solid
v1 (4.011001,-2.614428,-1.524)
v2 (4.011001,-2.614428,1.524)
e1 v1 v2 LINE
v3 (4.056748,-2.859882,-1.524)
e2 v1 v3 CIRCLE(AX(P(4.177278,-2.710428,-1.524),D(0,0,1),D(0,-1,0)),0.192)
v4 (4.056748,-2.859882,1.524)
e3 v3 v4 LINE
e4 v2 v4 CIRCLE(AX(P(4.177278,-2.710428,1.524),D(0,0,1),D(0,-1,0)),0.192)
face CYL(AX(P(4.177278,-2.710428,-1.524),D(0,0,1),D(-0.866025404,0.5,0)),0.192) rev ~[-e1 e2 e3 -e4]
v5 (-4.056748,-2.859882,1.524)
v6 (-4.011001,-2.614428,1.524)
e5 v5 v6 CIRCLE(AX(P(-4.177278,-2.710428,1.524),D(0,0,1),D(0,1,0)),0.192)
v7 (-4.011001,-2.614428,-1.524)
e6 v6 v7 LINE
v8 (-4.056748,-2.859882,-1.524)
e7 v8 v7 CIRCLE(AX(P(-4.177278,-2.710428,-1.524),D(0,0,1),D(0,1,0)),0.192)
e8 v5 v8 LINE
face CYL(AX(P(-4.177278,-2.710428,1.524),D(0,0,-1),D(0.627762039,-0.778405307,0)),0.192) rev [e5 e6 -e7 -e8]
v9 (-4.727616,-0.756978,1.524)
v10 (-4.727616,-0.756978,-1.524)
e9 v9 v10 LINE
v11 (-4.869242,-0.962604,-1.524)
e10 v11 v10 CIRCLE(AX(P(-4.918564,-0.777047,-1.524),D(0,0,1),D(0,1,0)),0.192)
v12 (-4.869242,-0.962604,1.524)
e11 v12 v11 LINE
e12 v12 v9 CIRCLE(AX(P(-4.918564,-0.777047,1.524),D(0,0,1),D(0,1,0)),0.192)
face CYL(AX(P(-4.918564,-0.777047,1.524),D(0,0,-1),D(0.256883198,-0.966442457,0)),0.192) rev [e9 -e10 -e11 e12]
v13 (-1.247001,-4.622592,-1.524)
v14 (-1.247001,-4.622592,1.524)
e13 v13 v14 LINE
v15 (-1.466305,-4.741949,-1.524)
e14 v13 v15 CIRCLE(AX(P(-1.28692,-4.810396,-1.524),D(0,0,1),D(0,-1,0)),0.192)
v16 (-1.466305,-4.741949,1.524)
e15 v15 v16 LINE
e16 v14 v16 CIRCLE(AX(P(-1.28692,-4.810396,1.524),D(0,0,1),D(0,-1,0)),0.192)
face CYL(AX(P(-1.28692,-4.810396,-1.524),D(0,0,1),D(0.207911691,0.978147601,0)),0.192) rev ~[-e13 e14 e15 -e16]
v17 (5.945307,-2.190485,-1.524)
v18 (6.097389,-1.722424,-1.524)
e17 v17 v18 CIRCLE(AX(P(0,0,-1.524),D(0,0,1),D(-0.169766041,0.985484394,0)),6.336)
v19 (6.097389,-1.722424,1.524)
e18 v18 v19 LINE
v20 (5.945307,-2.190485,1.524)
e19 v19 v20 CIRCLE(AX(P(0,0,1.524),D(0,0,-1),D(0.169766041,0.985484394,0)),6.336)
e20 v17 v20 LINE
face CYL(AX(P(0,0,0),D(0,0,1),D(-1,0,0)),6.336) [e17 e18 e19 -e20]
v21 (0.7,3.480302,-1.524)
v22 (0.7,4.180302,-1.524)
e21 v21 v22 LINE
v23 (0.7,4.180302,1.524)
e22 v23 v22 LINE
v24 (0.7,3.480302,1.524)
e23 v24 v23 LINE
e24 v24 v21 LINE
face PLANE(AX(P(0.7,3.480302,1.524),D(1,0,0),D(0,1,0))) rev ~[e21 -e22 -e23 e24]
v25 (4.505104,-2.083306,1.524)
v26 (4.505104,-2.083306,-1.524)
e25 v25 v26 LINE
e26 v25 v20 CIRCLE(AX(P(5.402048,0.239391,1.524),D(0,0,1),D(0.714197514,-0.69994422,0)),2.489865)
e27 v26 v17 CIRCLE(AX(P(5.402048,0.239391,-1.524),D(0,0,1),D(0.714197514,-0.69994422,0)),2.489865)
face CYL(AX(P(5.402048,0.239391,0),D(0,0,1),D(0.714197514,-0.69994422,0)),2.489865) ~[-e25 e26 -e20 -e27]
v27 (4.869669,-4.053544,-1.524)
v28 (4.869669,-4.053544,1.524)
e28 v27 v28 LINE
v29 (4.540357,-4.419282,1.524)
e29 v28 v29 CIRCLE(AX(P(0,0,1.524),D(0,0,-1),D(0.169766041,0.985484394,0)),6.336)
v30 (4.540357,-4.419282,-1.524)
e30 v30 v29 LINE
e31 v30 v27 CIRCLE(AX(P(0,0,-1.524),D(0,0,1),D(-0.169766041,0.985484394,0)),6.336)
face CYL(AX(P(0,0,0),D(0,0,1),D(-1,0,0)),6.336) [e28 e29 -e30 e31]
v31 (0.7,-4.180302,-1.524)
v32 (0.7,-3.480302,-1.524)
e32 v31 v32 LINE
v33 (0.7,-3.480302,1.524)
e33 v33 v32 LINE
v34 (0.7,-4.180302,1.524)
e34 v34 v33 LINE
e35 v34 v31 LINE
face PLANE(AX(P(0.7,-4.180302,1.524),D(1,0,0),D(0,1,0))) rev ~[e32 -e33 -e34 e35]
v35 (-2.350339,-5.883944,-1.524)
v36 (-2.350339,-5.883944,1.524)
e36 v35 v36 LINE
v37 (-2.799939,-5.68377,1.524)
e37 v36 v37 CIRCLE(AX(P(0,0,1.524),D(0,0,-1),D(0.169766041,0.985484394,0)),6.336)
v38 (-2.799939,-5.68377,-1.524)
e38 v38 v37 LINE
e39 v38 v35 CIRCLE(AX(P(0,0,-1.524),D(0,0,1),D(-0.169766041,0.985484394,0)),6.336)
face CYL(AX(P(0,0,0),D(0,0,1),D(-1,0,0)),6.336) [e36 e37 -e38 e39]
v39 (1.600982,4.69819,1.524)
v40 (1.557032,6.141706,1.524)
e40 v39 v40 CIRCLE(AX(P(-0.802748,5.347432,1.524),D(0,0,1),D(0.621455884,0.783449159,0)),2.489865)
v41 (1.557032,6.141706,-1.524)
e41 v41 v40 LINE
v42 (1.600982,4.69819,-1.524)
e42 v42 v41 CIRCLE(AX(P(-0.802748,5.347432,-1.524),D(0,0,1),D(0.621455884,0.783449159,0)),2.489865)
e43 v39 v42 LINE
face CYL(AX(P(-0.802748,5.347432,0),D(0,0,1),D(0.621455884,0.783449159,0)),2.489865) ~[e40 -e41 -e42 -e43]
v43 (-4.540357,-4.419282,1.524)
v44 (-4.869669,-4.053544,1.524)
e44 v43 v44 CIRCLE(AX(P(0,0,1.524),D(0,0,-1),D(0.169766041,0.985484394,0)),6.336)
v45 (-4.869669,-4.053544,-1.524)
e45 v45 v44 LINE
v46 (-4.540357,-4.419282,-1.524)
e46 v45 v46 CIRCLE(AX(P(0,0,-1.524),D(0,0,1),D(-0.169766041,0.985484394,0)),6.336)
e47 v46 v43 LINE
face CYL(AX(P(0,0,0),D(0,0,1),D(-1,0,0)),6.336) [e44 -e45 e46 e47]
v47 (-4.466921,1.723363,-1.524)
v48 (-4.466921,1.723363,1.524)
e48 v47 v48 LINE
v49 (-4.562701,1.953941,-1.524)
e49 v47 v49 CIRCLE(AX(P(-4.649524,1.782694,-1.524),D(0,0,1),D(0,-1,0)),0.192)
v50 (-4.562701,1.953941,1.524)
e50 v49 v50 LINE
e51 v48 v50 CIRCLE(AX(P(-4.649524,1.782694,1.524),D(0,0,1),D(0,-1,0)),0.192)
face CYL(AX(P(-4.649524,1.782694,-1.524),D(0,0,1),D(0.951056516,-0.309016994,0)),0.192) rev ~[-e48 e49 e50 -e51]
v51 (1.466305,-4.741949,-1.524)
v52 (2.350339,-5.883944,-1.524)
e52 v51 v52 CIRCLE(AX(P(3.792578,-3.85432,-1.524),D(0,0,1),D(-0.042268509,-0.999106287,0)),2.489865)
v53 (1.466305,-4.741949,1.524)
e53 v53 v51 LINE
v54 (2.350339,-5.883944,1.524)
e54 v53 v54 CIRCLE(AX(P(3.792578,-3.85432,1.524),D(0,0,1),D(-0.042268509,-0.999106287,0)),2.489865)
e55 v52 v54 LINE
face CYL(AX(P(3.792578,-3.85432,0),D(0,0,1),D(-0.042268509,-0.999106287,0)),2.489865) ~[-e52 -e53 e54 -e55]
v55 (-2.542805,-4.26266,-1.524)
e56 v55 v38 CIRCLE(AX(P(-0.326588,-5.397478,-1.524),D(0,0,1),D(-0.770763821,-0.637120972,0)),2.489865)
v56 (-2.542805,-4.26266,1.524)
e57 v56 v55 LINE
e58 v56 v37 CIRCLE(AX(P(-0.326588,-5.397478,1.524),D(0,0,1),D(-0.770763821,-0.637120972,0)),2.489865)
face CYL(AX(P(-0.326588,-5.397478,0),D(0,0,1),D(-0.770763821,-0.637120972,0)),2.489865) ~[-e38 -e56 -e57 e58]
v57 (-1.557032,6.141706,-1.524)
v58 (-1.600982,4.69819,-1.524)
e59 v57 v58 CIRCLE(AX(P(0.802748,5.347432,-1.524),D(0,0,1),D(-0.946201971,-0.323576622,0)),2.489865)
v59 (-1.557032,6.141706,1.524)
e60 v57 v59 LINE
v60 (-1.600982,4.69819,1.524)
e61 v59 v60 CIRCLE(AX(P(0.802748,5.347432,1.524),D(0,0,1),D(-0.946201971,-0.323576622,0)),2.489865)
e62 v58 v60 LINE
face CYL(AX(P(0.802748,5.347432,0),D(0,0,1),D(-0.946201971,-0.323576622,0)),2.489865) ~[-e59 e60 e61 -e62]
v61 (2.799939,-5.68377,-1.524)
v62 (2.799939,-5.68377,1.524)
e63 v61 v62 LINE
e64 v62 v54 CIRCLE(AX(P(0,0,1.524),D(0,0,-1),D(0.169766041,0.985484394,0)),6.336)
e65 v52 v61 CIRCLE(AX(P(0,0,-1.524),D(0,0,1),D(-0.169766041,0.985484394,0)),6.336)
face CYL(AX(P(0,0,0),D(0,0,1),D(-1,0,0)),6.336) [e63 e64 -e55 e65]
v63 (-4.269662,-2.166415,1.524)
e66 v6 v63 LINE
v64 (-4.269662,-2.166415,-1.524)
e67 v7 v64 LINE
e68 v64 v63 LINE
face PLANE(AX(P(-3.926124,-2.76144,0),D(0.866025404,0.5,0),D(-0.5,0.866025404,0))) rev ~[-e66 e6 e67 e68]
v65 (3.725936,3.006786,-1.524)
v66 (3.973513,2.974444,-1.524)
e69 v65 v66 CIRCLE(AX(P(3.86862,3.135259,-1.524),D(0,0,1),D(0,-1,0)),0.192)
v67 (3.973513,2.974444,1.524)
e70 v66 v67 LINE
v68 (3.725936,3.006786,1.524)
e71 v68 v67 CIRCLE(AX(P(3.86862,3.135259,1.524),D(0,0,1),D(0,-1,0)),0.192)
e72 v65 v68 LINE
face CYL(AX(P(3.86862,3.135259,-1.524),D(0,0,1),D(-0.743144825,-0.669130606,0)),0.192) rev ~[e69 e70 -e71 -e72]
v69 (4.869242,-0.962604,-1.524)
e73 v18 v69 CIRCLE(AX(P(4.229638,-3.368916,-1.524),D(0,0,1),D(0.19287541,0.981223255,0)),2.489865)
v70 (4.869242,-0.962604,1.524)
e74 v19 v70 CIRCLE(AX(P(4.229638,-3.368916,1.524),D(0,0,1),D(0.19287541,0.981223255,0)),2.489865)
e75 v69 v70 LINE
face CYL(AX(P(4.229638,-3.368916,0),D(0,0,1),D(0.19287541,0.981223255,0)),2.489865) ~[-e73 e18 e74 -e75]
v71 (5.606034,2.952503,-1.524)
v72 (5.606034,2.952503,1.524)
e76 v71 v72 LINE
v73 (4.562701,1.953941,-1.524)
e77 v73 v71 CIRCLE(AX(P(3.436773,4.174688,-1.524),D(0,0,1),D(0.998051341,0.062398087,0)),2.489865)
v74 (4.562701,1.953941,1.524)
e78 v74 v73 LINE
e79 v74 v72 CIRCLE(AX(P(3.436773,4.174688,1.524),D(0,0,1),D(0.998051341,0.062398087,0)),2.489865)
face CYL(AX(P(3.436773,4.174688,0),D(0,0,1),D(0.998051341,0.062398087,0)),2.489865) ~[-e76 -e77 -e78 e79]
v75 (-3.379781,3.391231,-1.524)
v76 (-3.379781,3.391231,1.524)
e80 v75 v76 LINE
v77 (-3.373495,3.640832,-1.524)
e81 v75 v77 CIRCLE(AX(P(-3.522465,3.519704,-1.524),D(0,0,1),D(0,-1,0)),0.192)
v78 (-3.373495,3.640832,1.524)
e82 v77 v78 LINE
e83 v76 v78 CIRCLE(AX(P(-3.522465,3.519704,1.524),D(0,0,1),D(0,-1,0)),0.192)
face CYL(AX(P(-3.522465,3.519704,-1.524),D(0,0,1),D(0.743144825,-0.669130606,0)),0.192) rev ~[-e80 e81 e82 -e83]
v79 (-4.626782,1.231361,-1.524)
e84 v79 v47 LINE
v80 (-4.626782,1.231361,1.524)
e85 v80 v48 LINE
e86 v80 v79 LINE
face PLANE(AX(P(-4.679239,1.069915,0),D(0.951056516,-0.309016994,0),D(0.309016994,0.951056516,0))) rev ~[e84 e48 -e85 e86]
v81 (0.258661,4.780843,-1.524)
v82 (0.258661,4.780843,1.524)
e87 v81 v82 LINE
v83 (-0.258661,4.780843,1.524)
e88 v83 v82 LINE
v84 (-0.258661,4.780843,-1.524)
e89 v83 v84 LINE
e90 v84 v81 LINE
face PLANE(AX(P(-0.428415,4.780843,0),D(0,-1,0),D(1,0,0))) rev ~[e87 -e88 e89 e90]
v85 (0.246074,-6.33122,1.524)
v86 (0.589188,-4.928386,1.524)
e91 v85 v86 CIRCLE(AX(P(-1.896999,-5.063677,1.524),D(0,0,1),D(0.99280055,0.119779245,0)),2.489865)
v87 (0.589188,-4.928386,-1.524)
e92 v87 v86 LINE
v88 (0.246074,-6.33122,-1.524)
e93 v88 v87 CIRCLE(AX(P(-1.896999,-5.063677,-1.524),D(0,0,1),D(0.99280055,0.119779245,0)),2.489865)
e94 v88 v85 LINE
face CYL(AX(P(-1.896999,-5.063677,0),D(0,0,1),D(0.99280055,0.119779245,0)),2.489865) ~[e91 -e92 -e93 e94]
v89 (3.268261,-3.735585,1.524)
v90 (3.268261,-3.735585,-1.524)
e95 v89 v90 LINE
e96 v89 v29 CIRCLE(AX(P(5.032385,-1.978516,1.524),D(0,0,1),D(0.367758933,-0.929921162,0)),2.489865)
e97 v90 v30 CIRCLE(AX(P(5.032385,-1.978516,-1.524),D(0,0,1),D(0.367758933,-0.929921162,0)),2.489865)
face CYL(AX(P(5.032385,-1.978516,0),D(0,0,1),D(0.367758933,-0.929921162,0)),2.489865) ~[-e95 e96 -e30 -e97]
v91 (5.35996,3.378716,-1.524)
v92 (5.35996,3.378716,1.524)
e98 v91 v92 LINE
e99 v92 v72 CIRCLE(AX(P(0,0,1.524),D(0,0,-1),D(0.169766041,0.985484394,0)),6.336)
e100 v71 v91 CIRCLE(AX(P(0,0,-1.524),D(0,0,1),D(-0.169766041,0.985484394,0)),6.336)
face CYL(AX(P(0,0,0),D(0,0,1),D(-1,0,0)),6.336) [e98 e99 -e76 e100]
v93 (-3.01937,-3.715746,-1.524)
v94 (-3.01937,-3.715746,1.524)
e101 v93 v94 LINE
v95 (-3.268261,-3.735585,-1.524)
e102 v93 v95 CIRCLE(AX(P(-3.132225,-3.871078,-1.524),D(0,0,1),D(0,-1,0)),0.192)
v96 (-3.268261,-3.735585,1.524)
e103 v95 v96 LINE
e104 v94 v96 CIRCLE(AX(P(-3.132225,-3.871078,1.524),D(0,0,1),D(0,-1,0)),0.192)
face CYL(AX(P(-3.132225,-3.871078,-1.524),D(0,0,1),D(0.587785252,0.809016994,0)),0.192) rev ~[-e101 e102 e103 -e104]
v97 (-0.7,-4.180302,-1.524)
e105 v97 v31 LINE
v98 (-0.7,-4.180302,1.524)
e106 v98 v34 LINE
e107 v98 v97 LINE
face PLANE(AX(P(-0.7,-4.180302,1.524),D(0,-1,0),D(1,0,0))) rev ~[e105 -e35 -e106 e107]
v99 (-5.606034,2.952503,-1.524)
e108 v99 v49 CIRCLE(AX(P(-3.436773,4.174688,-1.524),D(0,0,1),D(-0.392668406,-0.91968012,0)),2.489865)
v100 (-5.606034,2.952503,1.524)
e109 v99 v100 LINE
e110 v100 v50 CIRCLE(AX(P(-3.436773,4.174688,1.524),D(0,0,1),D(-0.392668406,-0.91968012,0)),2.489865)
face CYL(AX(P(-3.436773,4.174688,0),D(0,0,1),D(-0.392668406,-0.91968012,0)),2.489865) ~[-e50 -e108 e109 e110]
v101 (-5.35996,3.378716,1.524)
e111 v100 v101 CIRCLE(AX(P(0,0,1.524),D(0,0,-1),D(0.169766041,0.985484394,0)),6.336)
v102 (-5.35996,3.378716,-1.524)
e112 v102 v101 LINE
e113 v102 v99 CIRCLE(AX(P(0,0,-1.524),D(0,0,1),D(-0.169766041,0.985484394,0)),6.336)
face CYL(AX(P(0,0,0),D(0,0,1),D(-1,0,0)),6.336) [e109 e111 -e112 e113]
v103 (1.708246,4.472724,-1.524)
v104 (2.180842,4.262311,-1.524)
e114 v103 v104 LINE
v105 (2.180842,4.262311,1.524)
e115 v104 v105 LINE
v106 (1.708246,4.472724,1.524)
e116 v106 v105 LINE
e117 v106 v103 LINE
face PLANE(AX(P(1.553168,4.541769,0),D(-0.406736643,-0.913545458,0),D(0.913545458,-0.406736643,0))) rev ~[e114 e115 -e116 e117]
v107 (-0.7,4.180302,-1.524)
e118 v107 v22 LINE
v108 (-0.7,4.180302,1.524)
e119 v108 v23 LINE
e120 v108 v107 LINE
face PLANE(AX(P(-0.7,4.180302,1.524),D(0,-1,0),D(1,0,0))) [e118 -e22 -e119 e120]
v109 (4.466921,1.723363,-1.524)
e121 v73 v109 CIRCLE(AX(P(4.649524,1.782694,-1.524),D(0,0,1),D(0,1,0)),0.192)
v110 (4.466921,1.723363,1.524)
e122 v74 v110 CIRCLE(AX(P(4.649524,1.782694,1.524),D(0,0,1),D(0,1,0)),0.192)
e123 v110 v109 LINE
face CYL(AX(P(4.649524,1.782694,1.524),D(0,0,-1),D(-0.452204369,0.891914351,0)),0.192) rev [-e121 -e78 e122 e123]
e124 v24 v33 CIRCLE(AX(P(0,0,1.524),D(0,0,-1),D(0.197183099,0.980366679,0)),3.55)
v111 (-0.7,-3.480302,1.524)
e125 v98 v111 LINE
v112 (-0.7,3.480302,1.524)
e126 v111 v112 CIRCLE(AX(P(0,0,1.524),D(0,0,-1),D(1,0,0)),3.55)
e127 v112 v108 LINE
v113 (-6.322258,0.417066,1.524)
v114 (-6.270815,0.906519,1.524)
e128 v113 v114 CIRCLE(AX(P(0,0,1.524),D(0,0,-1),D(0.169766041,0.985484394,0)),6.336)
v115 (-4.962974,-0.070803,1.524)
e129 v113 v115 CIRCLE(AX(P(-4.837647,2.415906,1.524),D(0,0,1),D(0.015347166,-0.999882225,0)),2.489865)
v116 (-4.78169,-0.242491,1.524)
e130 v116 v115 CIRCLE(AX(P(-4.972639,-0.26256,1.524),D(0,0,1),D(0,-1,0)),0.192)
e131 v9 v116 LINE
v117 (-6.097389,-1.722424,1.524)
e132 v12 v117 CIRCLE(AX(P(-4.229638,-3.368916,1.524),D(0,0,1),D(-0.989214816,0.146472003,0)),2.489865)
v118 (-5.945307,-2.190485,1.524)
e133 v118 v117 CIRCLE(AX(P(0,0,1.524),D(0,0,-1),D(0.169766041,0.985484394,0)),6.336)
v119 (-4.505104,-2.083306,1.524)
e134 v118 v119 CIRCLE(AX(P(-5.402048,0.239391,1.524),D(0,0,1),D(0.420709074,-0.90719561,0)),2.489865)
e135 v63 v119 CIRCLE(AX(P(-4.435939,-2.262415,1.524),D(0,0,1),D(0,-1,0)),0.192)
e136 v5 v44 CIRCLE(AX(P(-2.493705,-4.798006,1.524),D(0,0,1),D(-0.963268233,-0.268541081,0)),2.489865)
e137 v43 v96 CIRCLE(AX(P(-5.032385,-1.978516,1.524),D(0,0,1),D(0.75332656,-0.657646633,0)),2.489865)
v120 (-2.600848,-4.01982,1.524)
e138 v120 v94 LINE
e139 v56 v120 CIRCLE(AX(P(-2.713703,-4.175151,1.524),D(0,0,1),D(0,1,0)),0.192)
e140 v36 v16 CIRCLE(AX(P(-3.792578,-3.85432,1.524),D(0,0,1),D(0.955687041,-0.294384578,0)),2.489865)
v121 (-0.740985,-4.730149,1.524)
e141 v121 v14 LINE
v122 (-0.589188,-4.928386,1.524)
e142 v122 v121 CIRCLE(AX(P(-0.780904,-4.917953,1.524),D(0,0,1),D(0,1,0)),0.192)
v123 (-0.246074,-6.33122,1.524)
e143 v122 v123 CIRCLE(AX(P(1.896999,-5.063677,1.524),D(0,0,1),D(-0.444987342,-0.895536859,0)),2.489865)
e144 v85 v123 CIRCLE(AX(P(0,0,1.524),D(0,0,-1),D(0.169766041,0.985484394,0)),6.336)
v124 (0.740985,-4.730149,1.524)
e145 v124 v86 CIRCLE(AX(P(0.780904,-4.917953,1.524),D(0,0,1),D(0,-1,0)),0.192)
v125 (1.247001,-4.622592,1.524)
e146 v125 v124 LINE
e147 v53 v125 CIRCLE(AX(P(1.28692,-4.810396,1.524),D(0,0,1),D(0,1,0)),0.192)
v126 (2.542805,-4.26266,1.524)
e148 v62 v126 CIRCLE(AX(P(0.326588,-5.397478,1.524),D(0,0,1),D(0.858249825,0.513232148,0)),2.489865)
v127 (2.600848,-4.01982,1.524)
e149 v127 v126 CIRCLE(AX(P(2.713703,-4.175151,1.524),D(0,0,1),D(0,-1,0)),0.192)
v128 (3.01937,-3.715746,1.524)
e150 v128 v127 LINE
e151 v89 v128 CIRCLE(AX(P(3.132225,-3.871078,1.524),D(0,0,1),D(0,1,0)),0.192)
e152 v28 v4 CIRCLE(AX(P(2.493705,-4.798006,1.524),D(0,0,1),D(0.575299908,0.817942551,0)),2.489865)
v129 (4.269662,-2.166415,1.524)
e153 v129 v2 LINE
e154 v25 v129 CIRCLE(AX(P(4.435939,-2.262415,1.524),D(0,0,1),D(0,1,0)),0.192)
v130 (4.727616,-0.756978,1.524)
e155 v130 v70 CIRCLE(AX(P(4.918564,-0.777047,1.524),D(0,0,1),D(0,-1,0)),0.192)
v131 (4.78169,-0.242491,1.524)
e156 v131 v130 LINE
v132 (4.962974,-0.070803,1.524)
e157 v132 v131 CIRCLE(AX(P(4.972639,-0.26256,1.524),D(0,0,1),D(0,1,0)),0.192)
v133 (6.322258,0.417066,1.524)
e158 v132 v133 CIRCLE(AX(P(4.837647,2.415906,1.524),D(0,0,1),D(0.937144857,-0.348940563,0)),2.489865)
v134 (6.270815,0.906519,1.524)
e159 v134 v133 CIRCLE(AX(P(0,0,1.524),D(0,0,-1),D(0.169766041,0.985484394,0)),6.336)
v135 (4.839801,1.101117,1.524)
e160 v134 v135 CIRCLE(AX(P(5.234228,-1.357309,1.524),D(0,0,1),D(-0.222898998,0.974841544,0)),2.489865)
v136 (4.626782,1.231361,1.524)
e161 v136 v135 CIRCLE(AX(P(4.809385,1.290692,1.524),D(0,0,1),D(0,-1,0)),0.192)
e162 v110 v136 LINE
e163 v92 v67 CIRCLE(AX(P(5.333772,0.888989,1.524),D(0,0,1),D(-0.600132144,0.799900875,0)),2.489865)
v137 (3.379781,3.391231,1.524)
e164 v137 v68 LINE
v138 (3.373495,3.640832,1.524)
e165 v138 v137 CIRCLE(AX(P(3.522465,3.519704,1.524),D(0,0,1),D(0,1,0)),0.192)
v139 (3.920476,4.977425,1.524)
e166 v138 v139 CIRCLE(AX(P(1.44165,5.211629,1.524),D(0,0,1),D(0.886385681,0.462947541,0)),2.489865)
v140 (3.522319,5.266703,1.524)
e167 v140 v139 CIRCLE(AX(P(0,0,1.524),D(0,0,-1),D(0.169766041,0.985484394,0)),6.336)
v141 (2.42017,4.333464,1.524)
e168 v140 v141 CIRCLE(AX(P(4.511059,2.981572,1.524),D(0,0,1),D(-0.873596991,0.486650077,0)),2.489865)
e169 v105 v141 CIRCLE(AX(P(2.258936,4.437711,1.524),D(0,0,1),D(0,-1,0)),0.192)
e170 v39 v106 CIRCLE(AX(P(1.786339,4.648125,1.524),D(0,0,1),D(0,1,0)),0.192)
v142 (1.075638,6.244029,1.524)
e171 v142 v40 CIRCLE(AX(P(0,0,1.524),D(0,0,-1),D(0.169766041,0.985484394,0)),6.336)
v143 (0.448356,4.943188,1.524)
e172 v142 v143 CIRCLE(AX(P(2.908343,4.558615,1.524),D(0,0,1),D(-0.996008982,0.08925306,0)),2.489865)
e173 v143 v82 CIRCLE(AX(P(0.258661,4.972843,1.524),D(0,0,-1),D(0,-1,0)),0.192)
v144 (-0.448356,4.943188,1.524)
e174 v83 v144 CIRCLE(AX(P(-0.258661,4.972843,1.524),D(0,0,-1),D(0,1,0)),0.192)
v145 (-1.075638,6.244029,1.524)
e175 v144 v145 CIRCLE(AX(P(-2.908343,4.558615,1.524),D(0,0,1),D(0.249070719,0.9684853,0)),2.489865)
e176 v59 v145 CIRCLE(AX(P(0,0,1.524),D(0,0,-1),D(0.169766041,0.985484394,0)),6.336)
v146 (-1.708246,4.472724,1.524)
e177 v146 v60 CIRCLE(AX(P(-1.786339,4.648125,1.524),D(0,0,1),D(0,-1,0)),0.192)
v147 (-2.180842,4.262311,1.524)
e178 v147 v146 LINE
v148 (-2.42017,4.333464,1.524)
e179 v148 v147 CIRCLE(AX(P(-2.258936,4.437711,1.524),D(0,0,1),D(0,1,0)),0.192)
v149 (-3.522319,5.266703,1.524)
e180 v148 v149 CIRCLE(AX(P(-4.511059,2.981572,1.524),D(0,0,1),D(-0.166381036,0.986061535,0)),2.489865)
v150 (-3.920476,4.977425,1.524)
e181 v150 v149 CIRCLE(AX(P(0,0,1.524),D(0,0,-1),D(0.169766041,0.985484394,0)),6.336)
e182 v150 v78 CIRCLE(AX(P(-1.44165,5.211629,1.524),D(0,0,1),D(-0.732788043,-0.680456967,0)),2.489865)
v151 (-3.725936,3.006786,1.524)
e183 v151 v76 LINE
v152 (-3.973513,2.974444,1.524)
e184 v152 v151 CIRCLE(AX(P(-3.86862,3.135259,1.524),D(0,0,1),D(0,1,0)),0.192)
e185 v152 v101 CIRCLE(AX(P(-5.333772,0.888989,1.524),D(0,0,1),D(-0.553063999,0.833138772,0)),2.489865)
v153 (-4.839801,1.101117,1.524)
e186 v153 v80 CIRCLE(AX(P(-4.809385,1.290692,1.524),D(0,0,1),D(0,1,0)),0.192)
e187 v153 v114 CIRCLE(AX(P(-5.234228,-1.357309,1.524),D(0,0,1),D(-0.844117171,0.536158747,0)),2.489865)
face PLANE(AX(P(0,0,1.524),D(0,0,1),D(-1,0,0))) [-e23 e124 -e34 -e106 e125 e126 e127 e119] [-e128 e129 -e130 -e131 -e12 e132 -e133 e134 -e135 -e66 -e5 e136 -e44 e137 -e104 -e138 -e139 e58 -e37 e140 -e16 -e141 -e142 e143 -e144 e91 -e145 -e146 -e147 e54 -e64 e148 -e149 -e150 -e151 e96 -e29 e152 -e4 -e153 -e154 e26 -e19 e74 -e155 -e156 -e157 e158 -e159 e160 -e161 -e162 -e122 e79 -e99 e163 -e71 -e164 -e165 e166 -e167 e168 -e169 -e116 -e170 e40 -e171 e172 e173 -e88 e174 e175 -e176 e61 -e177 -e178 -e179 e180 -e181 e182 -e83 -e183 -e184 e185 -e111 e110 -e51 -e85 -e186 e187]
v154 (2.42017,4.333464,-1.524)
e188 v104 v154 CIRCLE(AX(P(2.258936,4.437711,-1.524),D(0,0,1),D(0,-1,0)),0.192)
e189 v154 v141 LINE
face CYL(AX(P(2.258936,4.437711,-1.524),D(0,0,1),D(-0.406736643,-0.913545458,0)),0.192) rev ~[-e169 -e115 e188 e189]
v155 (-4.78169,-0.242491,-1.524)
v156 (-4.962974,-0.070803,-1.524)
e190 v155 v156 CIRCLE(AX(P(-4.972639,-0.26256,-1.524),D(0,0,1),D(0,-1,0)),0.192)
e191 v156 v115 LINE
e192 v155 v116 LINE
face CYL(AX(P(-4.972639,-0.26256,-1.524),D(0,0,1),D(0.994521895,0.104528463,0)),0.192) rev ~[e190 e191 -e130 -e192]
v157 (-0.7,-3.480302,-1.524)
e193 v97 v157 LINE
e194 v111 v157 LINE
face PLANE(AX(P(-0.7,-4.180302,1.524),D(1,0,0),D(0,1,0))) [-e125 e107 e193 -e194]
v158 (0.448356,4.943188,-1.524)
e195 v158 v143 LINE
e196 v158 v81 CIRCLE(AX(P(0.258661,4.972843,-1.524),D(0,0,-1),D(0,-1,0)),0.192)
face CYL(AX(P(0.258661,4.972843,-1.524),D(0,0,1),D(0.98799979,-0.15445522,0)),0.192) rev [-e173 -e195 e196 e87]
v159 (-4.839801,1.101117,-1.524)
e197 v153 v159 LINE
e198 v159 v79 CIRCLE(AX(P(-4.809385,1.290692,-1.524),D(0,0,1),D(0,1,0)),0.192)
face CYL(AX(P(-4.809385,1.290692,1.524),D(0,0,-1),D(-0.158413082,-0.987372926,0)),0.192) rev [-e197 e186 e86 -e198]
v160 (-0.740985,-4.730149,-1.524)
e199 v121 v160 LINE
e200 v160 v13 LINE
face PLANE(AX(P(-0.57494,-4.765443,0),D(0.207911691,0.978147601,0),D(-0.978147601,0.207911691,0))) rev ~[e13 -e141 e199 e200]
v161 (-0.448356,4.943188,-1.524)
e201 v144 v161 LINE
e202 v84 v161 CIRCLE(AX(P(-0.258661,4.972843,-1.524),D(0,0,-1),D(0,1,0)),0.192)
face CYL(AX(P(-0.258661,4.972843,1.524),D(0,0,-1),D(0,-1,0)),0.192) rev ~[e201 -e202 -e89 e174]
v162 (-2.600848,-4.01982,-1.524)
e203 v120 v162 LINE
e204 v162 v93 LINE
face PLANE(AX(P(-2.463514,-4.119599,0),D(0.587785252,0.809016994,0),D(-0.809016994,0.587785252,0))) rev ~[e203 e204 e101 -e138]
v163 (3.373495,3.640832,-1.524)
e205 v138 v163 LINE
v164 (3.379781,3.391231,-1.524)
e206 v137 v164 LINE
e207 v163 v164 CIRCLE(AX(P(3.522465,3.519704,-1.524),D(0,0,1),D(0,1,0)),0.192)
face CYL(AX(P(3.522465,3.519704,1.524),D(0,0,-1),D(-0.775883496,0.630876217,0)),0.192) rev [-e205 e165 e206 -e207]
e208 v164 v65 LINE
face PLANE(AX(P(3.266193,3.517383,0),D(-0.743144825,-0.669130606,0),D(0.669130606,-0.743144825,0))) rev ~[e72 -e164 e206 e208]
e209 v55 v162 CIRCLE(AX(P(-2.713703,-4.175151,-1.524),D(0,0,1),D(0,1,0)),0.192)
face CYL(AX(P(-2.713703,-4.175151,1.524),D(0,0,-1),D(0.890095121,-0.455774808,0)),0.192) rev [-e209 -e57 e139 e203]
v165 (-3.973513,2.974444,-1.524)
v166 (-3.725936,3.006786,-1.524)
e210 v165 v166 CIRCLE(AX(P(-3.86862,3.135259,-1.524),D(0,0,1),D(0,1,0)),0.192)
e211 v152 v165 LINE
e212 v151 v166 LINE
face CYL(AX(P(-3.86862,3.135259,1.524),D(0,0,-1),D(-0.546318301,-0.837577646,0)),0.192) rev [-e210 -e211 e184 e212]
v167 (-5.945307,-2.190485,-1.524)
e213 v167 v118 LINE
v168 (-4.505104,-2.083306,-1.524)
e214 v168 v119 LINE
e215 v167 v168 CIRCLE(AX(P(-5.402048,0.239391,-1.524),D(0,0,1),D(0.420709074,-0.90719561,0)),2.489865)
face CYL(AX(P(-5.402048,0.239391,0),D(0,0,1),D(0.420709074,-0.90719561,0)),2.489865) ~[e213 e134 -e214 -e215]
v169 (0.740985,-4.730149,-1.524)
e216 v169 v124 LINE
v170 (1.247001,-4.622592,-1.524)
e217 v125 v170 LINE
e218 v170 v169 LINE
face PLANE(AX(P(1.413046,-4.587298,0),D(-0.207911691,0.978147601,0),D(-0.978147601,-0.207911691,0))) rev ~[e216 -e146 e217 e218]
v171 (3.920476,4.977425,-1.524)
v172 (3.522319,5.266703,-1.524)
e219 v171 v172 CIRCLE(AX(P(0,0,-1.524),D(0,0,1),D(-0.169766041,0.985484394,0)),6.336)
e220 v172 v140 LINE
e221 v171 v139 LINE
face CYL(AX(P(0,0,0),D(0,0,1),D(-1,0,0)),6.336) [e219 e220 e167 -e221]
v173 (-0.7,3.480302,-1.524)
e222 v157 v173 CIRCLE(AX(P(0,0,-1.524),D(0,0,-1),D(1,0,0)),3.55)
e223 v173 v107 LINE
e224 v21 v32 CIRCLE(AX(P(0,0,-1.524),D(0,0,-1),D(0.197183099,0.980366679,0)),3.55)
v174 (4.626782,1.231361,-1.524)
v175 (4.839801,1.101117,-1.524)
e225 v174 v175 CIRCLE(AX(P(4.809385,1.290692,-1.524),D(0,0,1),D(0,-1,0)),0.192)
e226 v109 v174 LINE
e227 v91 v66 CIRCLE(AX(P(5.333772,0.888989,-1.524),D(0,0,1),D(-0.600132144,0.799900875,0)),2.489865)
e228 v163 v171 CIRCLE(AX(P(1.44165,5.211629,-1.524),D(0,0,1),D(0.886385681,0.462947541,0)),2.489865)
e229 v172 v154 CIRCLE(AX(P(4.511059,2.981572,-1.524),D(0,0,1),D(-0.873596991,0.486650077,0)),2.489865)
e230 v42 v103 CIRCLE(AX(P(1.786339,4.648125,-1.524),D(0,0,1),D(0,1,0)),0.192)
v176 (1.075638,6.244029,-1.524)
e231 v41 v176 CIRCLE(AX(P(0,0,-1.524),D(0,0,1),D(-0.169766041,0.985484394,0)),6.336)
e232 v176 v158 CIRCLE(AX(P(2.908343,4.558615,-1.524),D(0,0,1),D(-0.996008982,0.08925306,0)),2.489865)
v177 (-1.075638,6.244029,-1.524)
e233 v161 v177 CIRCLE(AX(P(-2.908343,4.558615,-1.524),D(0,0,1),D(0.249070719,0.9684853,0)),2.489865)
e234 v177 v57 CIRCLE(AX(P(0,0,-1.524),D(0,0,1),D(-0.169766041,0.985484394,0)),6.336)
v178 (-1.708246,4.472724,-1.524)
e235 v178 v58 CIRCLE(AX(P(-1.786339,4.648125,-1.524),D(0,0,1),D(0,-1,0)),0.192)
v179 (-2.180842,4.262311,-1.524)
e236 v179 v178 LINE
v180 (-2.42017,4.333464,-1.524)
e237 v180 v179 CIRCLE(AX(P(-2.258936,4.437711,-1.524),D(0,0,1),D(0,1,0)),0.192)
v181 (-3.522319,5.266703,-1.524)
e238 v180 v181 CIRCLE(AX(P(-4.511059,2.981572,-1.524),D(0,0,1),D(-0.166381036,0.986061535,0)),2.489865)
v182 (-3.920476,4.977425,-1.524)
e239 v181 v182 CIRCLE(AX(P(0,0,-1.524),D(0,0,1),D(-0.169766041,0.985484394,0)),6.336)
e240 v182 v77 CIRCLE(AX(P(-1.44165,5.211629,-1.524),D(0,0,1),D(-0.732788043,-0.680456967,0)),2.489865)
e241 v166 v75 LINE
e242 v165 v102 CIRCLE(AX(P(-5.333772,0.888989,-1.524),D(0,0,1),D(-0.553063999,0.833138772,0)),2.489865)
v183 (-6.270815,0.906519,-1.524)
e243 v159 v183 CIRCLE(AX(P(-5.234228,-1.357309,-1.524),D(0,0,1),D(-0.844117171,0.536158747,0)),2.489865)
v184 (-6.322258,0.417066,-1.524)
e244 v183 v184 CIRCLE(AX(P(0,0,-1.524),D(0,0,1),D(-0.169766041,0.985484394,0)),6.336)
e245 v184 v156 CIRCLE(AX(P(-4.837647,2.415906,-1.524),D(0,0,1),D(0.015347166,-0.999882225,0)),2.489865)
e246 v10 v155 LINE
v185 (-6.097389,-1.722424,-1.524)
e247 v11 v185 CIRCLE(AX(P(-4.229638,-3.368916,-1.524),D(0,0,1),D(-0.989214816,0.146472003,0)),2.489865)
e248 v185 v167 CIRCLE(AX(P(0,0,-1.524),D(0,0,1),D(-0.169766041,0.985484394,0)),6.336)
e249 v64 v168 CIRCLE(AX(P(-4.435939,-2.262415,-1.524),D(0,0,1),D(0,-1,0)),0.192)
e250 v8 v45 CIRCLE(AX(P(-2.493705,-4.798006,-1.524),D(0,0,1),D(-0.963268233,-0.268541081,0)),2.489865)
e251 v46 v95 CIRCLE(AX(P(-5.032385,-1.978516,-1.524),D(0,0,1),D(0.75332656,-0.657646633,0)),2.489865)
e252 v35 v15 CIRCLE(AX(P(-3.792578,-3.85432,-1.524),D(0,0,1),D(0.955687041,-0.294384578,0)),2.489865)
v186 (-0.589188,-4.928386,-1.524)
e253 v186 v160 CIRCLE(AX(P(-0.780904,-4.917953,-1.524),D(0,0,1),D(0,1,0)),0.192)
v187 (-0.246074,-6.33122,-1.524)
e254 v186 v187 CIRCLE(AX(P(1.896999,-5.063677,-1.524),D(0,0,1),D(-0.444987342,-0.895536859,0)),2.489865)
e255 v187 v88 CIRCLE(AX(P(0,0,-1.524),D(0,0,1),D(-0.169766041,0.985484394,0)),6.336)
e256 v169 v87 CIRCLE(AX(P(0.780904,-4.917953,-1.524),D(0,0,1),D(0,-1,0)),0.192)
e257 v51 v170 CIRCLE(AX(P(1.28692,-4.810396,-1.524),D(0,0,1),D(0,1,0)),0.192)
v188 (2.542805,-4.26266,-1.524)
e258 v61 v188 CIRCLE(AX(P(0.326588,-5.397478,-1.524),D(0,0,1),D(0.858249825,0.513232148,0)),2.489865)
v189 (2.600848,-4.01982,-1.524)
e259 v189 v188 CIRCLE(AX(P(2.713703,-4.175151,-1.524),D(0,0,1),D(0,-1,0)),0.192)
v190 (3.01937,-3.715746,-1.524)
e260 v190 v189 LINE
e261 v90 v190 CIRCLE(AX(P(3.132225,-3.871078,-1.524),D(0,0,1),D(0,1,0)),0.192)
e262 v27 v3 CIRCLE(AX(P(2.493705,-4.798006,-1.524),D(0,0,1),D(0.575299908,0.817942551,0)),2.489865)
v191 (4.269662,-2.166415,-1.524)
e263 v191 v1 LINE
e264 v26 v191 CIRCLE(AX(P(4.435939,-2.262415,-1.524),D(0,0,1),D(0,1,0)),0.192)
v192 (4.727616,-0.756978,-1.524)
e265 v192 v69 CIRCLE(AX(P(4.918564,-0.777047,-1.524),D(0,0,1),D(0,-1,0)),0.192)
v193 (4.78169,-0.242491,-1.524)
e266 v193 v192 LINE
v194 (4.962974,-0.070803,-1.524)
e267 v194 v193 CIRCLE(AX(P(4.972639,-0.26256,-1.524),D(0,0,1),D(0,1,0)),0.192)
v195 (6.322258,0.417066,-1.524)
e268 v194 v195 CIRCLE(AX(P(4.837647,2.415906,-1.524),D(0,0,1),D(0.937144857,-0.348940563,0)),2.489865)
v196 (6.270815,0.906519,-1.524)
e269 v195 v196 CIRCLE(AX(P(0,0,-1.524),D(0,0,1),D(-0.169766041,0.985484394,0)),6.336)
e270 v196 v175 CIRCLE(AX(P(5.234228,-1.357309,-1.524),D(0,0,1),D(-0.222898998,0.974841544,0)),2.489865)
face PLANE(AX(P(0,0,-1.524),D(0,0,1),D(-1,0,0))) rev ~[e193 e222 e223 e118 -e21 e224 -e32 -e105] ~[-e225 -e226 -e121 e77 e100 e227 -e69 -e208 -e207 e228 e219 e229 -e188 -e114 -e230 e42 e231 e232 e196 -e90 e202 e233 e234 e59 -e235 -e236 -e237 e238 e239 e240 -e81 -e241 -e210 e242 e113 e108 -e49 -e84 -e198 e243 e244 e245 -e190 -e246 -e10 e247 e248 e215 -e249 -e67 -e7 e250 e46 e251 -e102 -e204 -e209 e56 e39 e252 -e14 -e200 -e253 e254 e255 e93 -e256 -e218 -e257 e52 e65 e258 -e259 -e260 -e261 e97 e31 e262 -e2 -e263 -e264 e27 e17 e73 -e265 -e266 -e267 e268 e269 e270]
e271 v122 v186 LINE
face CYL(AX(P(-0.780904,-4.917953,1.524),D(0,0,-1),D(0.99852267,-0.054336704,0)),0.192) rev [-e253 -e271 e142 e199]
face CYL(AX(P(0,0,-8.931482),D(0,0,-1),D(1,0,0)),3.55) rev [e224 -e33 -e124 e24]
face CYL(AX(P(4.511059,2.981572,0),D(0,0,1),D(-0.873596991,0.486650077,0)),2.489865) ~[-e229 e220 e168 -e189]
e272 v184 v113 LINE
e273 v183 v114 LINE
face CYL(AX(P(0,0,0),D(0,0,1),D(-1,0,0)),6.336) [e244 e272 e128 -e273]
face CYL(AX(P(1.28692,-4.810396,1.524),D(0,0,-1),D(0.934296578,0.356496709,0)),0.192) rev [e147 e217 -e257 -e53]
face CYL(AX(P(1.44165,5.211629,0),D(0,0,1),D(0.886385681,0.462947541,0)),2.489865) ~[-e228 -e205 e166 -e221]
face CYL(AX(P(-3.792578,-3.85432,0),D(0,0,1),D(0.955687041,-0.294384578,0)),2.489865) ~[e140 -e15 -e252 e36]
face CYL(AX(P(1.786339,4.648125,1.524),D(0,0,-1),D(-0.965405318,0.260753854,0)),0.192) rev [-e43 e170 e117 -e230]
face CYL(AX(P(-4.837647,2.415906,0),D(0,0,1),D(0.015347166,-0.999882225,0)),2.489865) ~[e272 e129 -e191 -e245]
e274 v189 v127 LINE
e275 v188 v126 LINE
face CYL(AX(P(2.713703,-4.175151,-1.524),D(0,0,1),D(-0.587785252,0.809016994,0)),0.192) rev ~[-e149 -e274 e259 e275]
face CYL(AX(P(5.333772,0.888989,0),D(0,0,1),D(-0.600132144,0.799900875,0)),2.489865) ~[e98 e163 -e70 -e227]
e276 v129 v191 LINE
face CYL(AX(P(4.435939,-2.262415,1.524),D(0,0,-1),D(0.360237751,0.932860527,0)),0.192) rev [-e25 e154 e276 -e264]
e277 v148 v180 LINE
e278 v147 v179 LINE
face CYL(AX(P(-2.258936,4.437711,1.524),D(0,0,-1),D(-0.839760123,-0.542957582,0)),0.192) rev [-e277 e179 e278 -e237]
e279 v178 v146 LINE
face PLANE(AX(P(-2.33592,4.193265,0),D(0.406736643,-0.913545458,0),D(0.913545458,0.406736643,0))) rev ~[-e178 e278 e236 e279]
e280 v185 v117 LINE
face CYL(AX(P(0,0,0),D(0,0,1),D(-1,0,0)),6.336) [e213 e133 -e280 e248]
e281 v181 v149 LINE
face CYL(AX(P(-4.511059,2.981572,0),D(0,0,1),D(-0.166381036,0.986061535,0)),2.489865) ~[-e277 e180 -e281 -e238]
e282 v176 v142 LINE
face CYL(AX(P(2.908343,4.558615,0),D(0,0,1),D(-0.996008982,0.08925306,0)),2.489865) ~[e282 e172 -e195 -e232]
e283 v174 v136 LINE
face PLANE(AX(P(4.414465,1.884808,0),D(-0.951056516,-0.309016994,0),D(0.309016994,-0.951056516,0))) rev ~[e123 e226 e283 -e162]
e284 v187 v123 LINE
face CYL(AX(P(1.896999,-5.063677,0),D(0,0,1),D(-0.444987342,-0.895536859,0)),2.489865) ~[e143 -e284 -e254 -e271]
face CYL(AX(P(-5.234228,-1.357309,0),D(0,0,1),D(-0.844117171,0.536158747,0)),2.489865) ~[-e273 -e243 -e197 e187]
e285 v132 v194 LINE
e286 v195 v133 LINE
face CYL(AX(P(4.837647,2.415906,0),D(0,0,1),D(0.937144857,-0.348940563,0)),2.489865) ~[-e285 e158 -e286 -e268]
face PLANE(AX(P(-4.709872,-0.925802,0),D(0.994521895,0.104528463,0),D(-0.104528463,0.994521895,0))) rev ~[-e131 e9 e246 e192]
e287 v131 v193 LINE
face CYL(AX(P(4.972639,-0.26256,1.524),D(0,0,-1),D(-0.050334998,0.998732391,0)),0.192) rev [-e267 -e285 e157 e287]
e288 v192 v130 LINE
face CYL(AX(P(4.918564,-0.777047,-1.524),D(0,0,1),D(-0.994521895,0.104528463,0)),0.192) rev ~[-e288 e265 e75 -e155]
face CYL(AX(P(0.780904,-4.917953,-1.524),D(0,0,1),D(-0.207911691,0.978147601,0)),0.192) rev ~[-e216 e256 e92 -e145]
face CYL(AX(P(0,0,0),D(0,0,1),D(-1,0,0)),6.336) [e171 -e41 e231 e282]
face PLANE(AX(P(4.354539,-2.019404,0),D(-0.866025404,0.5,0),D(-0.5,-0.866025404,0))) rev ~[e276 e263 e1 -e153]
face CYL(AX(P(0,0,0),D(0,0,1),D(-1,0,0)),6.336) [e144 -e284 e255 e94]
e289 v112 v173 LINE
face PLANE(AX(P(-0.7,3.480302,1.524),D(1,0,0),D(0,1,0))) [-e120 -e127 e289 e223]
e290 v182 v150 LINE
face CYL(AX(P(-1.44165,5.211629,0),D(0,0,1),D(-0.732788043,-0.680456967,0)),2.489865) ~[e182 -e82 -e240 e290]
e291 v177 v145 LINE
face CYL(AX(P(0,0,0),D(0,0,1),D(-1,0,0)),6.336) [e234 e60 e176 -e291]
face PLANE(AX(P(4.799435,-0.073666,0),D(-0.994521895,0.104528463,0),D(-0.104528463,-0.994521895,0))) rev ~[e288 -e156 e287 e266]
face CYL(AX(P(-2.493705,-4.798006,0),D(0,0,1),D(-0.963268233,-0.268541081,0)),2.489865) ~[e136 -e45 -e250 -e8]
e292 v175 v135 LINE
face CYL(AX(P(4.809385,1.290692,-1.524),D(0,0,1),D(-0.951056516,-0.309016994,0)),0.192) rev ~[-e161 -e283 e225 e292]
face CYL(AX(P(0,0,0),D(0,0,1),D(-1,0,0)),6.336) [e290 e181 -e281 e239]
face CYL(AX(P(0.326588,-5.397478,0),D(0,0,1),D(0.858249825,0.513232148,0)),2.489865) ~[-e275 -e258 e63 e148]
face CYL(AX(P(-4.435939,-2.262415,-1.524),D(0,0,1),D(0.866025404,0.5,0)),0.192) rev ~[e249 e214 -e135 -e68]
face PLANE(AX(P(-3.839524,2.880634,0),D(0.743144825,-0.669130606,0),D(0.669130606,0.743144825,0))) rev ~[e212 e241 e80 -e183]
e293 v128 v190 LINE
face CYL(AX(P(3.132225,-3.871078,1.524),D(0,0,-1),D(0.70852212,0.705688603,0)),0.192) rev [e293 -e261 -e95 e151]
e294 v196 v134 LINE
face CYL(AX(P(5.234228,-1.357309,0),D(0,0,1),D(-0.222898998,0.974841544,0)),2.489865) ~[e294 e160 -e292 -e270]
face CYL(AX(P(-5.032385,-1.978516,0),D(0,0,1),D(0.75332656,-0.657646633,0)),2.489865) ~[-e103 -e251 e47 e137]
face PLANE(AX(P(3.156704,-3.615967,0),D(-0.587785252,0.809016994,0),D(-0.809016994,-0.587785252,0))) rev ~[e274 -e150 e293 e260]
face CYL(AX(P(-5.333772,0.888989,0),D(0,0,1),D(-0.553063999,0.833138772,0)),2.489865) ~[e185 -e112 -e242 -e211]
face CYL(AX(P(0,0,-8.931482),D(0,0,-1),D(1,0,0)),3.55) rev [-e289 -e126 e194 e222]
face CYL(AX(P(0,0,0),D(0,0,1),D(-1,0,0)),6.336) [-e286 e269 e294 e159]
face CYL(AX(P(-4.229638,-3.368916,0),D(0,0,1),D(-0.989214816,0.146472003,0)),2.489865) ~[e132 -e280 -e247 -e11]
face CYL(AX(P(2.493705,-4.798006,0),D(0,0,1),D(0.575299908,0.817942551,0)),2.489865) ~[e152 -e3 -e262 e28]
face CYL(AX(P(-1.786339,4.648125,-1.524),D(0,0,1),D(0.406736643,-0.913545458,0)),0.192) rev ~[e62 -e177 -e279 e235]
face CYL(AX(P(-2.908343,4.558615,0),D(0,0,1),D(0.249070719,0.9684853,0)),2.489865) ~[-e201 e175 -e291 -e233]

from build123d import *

# Parameters (mm, degrees)
SKETCH1_R                = 6.335999901
BOSS_EXTRUDE1_DEPTH      = 1.524
CUT_EXTRUDE1_DEPTH       = 10.089134474
FILLET1_R                = 0.191999997
CIRPATTERN1_COUNT        = 15
FILLET1_OF_CIRPATTERN1_R = 0.191999997
CUT_EXTRUDE2_DEPTH       = 10.455482489
CUT_EXTRUDE2_DEPTH_BACK  = 10.455482489
SKETCH4_R                = 3.55
SKETCH6_W                = 1.4
SKETCH6_H                = 0.7
CUT_EXTRUDE3_DEPTH       = 10.455482489


with BuildPart() as part:
    # Sketch1 → Boss-Extrude1 (new, symmetric)
    with BuildSketch(Plane.XY):
        with Locations(Location((0, 0, 0), (0, 0, 180))):
            Circle(SKETCH1_R)
    extrude(amount=BOSS_EXTRUDE1_DEPTH, both=True)

    # Sketch3 → Cut-Extrude1 (cut, symmetric)
    with BuildSketch(Plane.XY):
        with BuildLine():
            Line((-0.428414679, 4.780843037), (0.428414679, 4.780843037))
            ThreePointArc((0.428414679, 4.780843037), (1.010780942, 6.170659573), (2.288190337, 6.970012879))
            ThreePointArc((2.288190337, 6.970012879), (0, 7.335999901), (-2.288190337, 6.970012879))
            ThreePointArc((-2.288190337, 6.970012879), (-1.010780942, 6.170659573), (-0.428414679, 4.780843037))
        make_face()
    cut_extrude1 = extrude(amount=CUT_EXTRUDE1_DEPTH, both=True, mode=Mode.SUBTRACT)

    # Fillet1
    fillet1_edges = [part.edges().sort_by_distance(p)[0] for p in [
        (-0.428414679, 4.780843037, 0),
        (0.428414679, 4.780843037, 0),
    ]]
    fillet(fillet1_edges, radius=FILLET1_R)

    # CirPattern1: Cut-Extrude1 ×15 about axis
    cirpattern1_axis = Axis((0, 0, 0), (0, 0, 1))
    for i in range(1, CIRPATTERN1_COUNT):
        add(cut_extrude1.rotate(cirpattern1_axis, i * 360 / CIRPATTERN1_COUNT), mode=Mode.SUBTRACT)

    # Fillet1 of CirPattern1
    fillet1_of_cirpattern1_edges = [part.edges().sort_by_distance(p)[0] for p in [
        (-2.335920332, 4.193265492, 0),
        (-1.553167764, 4.541769388, 0),
        (-3.839524138, 2.880634248, 0),
        (-3.26619339, 3.517382552, 0),
        (-4.67923934, 1.069915174, 0),
        (-4.414464507, 1.884808318, 0),
        (-4.70987155, -0.925801954, 0),
        (-4.799434606, -0.073666397, 0),
        (-3.926124182, -2.761439514, 0),
        (-4.354538861, -2.019403523, 0),
        (-2.463514275, -4.119599094, 0),
        (-3.156703787, -3.615967434, 0),
        (-0.574940369, -4.765442566, 0),
        (-1.41304595, -4.587297726, 0),
        (1.41304595, -4.587297726, 0),
        (0.574940369, -4.765442566, 0),
        (3.156703787, -3.615967434, 0),
        (2.463514275, -4.119599094, 0),
        (4.354538861, -2.019403523, 0),
        (3.926124182, -2.761439514, 0),
        (4.799434606, -0.073666397, 0),
        (4.70987155, -0.925801954, 0),
        (4.414464507, 1.884808318, 0),
        (4.67923934, 1.069915174, 0),
        (3.26619339, 3.517382552, 0),
        (3.839524138, 2.880634248, 0),
        (1.553167764, 4.541769388, 0),
        (2.335920332, 4.193265492, 0),
    ]]
    fillet(fillet1_of_cirpattern1_edges, radius=FILLET1_OF_CIRPATTERN1_R)

    # Sketch4 → Cut-Extrude2 (cut, two sides: drawn at the far end of the back side and taken through both)
    with BuildSketch(Plane.XY.offset(1.524).offset(-CUT_EXTRUDE2_DEPTH_BACK)):
        Circle(SKETCH4_R)
    extrude(amount=CUT_EXTRUDE2_DEPTH + CUT_EXTRUDE2_DEPTH_BACK, mode=Mode.SUBTRACT)

    # Sketch6 → Cut-Extrude3 (cut, through all)
    with BuildSketch(Plane.XY.offset(1.524)):
        with Locations((0, 3.830301711)):
            Rectangle(SKETCH6_W, SKETCH6_H)
        with Locations((0, -3.830301711)):
            Rectangle(SKETCH6_W, SKETCH6_H)
    extrude(amount=-CUT_EXTRUDE3_DEPTH, mode=Mode.SUBTRACT)


solid = part.part
